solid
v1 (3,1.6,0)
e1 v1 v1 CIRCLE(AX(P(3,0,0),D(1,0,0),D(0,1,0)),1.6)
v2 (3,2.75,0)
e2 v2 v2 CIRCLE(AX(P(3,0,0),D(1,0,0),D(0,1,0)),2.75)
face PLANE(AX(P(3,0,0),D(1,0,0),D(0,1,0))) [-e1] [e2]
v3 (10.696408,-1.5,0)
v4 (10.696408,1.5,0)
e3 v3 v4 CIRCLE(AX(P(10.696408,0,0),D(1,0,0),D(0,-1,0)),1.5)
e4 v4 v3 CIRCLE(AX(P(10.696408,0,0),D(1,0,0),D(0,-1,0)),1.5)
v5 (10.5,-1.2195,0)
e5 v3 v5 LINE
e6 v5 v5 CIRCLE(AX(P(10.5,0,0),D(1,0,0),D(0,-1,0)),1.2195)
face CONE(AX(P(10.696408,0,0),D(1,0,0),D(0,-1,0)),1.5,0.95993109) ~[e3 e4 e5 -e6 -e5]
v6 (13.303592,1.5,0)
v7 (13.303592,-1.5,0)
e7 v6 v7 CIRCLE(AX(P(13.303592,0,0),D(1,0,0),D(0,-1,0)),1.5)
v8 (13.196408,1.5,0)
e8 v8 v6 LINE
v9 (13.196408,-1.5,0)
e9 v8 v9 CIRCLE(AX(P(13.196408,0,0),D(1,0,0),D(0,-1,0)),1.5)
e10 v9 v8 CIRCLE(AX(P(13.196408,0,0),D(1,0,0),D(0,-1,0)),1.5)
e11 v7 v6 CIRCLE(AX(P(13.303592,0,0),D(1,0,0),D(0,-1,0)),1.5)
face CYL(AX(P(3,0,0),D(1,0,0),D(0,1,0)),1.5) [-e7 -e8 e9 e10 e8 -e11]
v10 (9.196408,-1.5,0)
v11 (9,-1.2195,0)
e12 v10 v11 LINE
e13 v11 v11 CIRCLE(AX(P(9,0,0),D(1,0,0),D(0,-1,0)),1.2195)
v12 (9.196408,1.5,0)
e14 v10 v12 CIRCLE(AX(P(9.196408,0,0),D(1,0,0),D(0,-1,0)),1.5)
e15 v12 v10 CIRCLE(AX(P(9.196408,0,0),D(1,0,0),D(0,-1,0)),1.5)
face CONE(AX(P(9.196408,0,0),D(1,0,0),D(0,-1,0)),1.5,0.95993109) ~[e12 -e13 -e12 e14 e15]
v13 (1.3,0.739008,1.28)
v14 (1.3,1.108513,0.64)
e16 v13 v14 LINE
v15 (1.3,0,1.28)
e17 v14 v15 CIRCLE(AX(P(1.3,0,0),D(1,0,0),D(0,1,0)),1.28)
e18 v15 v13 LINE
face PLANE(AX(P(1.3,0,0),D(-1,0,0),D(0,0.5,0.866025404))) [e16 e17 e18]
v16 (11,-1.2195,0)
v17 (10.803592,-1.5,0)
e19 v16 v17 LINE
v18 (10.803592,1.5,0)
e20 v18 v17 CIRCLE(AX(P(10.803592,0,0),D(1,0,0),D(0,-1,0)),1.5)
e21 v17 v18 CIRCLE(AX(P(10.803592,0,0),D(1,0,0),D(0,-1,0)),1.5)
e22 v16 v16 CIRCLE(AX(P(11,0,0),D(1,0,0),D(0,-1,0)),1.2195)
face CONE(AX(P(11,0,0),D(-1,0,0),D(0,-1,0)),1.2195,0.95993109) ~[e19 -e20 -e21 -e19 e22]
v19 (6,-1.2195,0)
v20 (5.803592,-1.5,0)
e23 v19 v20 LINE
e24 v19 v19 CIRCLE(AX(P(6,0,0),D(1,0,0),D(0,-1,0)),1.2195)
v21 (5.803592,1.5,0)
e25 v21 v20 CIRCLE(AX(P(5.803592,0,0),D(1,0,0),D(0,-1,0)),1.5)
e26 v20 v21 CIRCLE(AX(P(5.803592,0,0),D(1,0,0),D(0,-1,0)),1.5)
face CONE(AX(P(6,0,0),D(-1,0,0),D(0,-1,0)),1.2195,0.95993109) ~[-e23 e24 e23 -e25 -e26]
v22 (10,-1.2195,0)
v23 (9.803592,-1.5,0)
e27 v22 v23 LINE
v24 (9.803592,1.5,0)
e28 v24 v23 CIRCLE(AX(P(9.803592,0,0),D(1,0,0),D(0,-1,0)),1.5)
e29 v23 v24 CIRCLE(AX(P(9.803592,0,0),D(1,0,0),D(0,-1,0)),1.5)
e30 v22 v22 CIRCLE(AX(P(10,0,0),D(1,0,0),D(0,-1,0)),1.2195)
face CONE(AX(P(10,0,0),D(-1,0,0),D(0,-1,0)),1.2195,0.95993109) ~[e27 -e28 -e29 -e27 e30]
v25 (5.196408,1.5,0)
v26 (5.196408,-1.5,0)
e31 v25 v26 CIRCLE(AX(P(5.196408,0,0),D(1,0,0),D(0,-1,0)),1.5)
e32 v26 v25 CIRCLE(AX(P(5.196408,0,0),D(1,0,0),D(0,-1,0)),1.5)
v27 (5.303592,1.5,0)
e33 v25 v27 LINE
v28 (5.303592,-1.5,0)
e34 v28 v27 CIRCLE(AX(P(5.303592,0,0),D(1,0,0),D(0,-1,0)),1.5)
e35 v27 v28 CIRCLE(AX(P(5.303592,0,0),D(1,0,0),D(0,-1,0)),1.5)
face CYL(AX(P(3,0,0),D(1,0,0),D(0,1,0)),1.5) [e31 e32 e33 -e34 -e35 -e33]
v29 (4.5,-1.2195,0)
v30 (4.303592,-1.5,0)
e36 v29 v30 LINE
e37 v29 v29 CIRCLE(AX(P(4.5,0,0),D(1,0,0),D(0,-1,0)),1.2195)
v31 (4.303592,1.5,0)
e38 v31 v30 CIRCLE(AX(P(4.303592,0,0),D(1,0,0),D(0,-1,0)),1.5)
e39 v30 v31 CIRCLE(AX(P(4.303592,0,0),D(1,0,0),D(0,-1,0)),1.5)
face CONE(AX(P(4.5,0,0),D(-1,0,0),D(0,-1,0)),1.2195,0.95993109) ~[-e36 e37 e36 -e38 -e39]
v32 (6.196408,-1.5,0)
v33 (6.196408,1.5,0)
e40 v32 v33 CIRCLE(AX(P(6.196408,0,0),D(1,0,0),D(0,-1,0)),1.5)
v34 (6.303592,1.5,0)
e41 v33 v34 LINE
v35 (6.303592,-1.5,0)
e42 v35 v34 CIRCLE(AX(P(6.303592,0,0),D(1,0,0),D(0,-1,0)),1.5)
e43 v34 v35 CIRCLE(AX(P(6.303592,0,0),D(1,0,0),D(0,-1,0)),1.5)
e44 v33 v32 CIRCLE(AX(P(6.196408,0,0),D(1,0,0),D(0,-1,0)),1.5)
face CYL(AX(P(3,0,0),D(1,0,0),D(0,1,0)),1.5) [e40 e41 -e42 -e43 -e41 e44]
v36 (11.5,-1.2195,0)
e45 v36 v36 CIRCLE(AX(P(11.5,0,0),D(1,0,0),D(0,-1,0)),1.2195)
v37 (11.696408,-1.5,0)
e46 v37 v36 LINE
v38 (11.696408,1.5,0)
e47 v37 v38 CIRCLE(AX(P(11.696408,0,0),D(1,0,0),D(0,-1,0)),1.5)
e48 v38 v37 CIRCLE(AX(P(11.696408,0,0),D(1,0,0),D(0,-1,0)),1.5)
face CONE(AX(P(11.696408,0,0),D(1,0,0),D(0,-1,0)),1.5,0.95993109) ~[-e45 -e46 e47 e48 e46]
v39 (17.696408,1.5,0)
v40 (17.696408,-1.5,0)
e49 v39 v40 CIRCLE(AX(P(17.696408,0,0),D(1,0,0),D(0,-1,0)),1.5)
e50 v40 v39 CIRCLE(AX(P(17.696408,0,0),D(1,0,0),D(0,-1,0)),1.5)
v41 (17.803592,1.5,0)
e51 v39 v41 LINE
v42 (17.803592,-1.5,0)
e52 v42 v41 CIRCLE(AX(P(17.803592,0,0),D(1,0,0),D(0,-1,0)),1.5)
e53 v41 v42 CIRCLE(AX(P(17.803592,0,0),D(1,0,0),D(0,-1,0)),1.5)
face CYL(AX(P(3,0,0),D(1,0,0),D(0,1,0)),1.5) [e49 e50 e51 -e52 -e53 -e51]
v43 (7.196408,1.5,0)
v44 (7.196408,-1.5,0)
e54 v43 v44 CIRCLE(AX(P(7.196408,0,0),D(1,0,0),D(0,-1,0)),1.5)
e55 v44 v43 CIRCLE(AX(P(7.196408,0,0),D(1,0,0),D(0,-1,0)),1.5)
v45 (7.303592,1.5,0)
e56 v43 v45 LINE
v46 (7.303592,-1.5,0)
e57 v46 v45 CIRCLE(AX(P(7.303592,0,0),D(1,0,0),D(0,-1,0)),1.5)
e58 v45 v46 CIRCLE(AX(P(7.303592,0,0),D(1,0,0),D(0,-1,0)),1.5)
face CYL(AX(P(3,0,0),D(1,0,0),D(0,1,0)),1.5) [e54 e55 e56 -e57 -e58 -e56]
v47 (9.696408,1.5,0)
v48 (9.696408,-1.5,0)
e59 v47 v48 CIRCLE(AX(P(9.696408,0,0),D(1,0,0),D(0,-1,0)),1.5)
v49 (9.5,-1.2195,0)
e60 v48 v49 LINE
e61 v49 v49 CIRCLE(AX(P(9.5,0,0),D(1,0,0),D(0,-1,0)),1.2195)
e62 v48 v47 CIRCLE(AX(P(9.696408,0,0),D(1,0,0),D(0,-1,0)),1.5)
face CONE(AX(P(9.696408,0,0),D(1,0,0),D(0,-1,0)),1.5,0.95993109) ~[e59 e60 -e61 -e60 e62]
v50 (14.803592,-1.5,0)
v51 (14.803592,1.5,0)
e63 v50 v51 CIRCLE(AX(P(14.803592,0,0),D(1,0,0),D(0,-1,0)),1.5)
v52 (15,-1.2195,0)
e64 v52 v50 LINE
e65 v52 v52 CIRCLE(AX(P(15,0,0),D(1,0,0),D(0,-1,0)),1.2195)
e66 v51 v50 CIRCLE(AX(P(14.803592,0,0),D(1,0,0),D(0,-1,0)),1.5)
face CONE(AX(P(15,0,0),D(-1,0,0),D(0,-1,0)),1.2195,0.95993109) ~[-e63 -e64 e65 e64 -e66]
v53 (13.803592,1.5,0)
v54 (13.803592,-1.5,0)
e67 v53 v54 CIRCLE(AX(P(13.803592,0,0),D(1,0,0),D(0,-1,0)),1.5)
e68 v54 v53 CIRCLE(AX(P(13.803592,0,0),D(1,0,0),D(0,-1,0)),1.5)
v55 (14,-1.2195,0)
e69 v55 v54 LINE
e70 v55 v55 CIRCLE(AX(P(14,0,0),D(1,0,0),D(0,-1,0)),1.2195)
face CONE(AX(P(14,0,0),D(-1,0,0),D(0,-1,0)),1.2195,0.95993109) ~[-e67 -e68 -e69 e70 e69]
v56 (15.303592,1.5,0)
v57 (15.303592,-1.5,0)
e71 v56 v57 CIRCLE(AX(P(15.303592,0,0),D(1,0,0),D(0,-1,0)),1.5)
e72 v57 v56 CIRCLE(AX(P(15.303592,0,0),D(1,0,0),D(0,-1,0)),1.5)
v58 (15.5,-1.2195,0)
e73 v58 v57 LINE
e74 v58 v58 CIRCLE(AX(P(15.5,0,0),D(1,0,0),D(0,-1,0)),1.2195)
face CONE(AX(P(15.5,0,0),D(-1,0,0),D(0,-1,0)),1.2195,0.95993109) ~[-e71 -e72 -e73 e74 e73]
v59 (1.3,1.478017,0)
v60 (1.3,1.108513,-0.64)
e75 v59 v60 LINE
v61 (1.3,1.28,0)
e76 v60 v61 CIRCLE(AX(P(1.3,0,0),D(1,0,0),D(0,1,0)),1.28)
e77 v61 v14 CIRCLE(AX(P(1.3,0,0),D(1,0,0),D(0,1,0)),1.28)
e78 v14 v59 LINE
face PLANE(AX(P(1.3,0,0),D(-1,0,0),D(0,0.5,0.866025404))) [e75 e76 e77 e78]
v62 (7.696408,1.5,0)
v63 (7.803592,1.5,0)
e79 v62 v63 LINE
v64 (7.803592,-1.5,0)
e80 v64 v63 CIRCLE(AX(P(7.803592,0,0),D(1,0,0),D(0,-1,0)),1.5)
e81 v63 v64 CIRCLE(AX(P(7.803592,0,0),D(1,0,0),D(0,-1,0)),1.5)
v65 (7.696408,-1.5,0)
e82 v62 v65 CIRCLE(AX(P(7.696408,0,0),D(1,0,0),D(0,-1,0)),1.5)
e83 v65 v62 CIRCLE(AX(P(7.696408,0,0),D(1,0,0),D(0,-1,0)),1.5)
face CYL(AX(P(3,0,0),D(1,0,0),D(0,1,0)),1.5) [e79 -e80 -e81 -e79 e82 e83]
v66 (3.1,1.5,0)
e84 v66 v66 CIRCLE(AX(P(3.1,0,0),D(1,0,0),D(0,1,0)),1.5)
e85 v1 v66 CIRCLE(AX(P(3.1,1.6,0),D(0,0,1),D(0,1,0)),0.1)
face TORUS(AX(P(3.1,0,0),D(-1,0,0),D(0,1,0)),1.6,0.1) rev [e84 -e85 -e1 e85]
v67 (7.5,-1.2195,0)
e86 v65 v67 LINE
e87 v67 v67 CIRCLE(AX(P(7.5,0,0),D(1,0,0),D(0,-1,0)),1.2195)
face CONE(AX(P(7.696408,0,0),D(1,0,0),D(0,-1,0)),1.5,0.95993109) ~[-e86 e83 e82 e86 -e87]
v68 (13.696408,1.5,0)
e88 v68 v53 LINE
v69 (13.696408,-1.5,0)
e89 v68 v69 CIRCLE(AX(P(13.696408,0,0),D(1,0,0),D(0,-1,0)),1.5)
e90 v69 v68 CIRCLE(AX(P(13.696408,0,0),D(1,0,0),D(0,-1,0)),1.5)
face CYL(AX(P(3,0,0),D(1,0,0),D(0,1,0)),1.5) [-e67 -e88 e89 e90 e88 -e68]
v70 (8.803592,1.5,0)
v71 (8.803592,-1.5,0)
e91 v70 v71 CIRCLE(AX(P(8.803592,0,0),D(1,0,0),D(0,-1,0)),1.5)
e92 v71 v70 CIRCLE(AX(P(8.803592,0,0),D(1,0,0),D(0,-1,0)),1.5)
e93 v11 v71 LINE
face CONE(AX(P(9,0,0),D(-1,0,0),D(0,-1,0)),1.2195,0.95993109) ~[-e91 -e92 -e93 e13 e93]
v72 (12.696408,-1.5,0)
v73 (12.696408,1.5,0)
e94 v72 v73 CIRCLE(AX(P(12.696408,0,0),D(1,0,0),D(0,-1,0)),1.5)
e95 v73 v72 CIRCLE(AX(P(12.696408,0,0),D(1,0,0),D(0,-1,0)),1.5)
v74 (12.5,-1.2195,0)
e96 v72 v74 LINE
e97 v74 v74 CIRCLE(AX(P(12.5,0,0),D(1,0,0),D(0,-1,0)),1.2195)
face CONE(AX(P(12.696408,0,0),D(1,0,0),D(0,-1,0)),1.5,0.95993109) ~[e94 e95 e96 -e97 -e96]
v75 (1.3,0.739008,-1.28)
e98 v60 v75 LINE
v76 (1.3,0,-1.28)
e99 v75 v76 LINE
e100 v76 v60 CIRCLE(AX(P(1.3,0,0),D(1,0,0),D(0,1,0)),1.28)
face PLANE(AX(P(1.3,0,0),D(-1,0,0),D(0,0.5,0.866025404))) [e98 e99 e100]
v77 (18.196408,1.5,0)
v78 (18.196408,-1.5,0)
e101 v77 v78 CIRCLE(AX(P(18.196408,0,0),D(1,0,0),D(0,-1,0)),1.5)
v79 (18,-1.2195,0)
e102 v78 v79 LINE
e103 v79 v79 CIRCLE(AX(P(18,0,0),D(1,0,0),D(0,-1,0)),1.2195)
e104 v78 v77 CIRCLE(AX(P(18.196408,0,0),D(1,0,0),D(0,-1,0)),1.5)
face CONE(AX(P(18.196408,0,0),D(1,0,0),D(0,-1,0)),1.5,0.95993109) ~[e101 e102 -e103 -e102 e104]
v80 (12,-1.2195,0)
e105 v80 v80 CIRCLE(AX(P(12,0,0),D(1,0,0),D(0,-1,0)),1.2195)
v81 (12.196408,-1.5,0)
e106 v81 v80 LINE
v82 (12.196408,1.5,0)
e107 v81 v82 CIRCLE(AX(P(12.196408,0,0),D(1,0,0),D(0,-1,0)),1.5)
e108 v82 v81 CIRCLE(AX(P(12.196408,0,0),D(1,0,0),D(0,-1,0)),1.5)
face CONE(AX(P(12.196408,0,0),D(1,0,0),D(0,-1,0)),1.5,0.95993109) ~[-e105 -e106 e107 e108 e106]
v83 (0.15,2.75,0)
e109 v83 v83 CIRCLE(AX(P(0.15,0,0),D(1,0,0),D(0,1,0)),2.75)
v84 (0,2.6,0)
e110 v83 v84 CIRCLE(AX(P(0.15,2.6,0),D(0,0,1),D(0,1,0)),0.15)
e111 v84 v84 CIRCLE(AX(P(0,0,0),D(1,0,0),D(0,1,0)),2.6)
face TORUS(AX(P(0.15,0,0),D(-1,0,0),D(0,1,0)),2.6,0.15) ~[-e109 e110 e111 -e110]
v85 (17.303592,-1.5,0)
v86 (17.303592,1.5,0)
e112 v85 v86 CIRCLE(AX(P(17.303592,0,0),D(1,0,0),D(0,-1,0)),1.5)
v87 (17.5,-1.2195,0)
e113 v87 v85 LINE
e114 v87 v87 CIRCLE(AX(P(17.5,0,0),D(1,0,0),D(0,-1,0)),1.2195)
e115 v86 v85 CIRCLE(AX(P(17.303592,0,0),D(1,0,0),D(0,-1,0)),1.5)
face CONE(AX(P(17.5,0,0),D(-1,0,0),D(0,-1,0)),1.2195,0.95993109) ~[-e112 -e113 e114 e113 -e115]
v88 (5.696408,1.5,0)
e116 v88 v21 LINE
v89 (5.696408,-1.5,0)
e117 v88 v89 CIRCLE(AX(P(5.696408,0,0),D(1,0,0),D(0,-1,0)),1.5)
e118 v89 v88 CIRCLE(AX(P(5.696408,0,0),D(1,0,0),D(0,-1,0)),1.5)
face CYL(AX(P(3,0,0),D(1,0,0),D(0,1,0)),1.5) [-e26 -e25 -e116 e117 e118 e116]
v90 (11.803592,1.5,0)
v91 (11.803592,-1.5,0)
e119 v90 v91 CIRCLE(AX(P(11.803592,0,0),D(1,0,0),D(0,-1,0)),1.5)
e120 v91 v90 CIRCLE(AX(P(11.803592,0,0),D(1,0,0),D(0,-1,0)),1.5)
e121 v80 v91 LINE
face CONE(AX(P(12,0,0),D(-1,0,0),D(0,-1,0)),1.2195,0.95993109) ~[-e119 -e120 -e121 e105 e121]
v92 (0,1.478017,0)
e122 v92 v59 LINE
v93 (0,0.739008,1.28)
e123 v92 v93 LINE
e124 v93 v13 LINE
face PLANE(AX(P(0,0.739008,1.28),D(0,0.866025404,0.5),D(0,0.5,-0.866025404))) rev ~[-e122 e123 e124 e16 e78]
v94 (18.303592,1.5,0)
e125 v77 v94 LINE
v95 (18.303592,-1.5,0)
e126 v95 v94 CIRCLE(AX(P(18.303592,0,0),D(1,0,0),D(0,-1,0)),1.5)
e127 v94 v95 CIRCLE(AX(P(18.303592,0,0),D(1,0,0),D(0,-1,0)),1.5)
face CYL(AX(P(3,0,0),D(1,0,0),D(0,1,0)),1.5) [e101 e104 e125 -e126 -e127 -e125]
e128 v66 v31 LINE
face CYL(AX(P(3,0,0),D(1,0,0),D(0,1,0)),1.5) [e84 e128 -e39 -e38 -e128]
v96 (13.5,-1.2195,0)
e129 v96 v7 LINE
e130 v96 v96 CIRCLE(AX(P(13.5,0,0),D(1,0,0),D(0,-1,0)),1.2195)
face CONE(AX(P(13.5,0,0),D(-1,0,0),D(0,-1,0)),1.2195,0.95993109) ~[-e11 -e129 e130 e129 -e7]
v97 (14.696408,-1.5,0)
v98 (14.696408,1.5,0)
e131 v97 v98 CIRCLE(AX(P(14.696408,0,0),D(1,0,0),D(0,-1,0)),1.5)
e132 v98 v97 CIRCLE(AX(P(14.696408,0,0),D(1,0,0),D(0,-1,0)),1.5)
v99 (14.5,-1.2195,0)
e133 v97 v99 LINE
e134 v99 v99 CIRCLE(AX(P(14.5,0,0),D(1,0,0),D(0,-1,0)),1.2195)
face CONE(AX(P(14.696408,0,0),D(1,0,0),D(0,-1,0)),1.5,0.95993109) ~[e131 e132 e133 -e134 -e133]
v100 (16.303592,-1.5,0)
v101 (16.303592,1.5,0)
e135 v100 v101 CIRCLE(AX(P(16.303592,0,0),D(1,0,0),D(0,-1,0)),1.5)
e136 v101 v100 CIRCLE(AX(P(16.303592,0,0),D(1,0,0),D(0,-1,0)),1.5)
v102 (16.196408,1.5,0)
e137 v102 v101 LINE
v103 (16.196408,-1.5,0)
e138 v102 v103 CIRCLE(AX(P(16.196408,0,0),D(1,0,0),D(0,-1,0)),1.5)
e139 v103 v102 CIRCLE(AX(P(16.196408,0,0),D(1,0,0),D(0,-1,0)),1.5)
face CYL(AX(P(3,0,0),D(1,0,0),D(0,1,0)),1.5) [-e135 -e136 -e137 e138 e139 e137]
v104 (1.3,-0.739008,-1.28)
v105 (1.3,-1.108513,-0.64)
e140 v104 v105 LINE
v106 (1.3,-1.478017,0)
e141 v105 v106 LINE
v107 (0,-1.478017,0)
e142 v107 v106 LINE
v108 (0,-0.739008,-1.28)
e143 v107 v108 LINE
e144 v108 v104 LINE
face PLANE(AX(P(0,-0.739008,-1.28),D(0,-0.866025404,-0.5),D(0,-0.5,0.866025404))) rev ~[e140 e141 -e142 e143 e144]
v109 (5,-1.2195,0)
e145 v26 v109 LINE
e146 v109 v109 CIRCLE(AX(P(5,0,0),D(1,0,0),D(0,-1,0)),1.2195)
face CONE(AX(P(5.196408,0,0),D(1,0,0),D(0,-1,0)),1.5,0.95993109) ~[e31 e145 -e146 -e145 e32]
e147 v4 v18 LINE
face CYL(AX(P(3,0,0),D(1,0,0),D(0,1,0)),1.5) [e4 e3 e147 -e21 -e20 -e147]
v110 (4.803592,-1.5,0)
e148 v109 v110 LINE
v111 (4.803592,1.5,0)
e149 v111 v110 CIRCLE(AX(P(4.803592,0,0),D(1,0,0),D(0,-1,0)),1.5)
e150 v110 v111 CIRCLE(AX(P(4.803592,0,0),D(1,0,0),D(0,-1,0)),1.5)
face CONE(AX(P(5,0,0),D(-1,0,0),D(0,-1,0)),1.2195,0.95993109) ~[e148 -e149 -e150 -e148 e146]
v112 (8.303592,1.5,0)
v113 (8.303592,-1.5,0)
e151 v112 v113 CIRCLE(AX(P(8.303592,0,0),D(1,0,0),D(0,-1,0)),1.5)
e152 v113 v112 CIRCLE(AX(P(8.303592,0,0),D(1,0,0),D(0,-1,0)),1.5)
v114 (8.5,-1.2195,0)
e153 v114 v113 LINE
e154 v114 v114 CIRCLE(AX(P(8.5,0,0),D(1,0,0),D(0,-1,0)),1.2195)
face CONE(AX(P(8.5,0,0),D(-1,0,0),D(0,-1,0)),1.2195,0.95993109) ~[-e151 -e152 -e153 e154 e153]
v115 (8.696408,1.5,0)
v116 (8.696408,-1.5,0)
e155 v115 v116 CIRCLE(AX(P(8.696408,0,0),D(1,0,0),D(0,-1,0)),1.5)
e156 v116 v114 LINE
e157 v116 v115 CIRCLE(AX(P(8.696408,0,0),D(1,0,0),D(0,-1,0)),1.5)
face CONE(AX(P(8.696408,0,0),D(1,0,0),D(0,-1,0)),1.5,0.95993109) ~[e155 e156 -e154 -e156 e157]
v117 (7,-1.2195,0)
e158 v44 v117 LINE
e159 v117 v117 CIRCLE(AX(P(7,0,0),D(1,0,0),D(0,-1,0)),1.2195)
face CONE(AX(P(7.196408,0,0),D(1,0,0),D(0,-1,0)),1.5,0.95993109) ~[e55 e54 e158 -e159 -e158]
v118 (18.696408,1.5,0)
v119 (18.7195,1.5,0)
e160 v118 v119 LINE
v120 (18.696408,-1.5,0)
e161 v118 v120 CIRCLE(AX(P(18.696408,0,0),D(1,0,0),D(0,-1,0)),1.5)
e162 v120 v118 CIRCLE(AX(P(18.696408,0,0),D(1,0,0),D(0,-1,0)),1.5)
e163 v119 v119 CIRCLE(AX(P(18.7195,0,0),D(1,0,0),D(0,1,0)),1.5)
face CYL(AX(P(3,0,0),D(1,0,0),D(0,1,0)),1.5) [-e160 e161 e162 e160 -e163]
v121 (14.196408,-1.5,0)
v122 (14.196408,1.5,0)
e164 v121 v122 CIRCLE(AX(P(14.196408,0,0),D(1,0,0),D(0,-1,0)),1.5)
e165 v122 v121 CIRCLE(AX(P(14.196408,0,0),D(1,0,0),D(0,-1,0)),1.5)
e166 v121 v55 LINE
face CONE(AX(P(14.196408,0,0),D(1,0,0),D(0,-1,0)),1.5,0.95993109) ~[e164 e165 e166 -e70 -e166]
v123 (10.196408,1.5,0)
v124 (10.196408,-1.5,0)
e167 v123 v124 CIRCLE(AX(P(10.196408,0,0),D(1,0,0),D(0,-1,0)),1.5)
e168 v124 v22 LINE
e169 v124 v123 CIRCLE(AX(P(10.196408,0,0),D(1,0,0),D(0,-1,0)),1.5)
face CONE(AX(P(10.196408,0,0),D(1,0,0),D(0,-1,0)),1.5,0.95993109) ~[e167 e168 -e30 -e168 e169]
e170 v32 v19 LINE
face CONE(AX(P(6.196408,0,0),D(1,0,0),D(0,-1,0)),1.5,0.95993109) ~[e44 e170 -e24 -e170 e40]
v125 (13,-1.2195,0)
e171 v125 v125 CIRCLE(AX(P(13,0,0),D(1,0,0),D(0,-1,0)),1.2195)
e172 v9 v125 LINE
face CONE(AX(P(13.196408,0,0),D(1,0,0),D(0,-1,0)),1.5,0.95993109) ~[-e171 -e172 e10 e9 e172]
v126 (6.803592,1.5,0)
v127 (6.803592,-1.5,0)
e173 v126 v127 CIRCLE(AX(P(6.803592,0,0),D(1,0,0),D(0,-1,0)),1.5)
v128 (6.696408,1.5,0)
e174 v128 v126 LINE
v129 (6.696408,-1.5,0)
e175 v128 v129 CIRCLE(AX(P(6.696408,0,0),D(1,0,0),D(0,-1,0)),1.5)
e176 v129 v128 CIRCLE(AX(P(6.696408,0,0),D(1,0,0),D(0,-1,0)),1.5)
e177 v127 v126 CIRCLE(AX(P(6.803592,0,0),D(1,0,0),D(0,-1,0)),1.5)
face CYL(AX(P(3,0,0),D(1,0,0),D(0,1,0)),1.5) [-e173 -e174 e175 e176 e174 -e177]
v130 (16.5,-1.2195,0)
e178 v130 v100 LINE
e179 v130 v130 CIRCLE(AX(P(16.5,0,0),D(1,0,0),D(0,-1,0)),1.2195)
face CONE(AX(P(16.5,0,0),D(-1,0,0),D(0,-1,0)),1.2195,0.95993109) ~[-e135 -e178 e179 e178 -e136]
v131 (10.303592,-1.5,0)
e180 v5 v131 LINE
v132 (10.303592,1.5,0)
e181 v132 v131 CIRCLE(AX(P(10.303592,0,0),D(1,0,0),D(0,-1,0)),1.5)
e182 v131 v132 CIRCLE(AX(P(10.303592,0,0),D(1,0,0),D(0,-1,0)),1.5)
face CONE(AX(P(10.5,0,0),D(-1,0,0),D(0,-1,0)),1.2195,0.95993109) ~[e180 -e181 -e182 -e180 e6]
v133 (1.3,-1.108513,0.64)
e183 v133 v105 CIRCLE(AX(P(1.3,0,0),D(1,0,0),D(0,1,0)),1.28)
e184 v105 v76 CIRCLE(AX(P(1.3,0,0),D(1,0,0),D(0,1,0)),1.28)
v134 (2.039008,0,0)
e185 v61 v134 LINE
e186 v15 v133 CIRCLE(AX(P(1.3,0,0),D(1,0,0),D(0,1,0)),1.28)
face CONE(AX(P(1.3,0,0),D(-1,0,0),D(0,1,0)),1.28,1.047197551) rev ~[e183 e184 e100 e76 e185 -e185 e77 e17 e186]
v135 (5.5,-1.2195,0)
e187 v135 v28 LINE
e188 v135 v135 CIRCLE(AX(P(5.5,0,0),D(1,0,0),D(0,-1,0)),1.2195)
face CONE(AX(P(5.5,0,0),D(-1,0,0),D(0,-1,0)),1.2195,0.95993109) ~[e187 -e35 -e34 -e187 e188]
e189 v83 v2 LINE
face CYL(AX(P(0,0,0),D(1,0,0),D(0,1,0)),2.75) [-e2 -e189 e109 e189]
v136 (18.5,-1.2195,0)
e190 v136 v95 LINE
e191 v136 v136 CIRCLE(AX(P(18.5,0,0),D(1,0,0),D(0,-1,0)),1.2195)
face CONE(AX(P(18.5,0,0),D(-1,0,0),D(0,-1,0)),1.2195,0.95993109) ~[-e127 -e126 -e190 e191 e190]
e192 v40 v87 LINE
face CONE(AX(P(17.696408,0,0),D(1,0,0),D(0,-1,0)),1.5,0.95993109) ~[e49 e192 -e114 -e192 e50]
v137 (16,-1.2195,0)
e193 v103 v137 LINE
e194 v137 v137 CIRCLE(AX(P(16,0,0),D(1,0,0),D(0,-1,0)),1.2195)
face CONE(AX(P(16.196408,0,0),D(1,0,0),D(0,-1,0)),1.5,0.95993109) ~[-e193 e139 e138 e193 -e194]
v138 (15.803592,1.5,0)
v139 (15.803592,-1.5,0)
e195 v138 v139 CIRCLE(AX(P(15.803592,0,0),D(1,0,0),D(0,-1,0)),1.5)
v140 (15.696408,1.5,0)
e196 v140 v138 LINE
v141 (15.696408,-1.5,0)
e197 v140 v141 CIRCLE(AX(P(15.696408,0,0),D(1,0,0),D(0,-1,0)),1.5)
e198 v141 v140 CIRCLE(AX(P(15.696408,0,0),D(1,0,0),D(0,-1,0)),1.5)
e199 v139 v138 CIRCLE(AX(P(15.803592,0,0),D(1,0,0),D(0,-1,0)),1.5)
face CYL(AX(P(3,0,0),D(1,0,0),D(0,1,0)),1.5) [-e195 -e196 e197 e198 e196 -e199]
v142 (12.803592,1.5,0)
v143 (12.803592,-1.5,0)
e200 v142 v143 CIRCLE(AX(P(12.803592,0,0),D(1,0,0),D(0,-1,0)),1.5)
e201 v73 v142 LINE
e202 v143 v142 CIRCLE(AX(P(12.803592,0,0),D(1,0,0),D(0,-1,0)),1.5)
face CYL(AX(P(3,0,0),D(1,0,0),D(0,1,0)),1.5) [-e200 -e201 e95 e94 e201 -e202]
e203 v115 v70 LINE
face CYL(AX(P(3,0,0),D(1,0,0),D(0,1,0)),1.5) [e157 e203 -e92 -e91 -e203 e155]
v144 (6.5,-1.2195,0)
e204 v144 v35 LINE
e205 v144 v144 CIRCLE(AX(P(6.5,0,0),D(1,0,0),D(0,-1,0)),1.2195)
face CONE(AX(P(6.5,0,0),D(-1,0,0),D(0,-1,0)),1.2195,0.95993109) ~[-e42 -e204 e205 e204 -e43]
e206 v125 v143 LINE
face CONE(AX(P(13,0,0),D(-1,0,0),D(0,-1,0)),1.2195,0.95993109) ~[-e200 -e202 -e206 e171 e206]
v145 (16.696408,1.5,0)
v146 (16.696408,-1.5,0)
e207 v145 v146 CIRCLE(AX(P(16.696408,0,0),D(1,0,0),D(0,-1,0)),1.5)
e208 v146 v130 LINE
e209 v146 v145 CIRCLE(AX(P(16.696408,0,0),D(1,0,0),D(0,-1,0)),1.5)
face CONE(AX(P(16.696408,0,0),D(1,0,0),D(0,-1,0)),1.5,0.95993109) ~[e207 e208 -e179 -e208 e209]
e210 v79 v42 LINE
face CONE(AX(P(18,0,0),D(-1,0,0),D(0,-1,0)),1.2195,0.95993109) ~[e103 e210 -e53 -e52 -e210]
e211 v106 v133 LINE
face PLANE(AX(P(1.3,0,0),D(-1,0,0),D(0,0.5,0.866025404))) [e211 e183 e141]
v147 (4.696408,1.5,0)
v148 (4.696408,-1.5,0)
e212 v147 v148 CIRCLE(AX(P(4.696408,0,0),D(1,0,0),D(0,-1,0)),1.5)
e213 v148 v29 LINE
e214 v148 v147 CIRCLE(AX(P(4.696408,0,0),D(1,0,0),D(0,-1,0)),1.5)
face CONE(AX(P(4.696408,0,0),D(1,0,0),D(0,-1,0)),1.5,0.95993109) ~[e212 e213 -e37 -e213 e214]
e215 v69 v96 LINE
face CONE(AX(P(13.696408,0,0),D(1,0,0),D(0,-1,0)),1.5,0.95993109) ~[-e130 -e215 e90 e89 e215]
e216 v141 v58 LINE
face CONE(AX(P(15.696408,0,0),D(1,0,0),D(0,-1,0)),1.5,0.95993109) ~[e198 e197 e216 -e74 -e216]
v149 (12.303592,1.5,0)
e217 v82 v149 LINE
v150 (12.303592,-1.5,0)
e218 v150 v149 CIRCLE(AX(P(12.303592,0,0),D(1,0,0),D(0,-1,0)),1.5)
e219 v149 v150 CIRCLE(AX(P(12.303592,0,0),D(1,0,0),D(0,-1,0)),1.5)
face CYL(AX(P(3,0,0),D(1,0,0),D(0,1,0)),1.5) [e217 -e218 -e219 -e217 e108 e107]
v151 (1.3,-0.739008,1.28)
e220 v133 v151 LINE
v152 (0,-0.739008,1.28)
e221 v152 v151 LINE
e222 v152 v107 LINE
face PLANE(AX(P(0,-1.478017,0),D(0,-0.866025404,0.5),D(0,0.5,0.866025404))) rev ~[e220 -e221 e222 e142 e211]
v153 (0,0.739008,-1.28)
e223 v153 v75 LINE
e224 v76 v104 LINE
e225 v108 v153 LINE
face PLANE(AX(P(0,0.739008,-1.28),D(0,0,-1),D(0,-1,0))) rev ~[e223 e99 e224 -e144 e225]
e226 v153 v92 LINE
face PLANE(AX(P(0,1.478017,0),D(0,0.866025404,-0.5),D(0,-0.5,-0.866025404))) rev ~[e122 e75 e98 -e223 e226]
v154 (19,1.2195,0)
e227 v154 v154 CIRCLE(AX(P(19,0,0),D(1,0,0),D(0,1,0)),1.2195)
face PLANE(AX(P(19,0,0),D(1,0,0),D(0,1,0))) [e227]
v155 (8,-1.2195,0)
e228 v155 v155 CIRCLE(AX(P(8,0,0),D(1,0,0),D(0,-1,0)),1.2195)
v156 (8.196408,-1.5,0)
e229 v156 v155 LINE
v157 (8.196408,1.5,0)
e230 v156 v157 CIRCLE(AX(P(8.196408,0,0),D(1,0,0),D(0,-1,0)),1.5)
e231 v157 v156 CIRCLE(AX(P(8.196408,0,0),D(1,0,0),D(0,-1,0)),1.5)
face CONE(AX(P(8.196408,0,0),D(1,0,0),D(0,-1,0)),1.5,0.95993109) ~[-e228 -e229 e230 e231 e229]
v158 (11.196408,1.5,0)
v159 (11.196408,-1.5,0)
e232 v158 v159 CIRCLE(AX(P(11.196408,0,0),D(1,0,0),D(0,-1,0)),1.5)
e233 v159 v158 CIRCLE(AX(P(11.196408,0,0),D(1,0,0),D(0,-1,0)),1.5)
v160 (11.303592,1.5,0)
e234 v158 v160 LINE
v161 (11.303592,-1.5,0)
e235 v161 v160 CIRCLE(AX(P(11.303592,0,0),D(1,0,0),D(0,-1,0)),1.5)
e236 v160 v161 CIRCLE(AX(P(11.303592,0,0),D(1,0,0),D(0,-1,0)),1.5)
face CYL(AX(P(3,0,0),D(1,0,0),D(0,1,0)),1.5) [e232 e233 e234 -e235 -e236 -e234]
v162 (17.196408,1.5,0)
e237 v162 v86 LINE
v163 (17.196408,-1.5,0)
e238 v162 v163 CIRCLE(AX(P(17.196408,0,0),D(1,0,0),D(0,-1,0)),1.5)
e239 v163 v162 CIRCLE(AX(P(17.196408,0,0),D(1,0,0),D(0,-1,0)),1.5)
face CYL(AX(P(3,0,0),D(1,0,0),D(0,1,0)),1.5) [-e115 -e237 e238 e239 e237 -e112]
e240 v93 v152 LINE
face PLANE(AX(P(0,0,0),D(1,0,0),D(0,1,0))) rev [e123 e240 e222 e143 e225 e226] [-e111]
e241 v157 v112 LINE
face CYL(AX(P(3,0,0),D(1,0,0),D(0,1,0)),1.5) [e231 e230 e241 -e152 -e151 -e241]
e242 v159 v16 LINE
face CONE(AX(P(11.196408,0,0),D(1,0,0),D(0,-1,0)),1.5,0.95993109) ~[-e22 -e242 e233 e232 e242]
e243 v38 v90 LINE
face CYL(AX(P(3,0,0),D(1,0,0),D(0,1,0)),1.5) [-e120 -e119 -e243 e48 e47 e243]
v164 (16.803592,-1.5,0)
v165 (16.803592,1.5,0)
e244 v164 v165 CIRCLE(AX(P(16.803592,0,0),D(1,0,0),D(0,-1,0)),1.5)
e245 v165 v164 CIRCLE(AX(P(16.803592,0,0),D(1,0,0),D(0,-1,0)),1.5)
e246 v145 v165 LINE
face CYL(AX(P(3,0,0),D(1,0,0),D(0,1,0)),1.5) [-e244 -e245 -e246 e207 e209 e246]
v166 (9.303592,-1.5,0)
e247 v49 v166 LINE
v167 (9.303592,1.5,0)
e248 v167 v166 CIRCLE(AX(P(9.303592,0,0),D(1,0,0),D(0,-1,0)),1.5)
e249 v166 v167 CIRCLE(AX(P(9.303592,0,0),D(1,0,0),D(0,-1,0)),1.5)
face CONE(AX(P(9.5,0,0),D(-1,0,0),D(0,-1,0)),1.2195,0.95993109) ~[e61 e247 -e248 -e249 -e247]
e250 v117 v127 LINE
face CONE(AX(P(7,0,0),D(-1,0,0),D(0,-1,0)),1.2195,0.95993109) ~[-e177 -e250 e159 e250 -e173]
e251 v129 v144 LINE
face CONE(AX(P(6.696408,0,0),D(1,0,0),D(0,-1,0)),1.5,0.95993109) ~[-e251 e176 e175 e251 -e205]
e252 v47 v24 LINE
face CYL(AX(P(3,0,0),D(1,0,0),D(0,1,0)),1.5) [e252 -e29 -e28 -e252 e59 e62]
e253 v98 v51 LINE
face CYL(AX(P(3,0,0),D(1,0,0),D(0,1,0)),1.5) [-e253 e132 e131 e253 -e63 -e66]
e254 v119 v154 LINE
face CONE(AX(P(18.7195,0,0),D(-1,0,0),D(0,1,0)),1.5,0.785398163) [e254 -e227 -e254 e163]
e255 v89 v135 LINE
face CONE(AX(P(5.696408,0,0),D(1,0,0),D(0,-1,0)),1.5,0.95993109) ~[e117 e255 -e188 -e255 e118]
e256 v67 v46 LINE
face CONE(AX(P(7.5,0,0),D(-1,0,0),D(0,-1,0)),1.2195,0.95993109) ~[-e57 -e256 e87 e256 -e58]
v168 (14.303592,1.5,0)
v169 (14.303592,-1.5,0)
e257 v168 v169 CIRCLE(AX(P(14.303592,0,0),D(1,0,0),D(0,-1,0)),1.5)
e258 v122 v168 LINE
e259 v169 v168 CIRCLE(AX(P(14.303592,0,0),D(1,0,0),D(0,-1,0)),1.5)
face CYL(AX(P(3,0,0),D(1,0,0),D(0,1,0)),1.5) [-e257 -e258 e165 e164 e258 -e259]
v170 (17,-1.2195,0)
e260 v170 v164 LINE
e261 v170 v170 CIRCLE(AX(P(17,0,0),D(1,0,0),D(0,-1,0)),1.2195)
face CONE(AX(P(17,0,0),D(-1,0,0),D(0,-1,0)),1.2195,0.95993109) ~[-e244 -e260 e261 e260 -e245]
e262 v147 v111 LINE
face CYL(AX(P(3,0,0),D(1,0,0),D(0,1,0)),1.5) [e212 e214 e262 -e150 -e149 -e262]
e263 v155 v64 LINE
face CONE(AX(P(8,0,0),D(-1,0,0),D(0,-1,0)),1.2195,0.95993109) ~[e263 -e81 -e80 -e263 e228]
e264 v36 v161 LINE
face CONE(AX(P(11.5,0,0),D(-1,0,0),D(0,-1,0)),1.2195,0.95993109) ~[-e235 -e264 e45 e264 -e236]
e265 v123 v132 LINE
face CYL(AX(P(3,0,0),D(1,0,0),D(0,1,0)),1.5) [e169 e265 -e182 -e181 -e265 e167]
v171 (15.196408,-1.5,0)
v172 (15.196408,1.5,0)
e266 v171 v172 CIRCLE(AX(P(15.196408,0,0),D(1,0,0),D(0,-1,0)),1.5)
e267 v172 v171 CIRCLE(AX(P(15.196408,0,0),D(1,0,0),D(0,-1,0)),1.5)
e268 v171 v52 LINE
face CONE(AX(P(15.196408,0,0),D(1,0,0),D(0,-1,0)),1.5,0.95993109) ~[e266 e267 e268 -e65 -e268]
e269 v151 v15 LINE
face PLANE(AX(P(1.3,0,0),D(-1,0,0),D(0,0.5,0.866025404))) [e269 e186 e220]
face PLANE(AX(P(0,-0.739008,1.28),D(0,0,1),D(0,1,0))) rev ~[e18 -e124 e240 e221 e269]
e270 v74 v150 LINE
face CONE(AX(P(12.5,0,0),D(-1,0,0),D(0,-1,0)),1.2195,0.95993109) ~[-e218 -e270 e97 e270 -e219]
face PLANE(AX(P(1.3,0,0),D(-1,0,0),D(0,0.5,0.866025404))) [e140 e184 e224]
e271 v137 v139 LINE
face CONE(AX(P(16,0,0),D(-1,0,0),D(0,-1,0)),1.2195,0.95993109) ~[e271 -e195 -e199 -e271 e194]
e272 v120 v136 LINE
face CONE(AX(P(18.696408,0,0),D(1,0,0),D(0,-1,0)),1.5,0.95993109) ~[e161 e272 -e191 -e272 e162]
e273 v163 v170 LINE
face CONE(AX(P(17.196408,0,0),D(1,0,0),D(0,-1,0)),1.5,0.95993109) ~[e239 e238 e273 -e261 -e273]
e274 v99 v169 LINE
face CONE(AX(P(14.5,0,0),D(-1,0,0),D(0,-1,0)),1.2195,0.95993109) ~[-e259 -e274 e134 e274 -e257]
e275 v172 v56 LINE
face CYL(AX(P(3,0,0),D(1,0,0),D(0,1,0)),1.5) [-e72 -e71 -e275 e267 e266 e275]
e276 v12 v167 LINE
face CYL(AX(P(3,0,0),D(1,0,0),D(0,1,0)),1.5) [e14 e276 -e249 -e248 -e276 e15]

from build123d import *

# Parameters (mm, degrees)
FILLET1_R       = 0.1
FILLET2_R       = 0.15
HEX_2_DEPTH     = 1.3
THDSCHPAT_COUNT = 29
THDSCHPAT_PITCH = 0.5


with BuildPart() as part:
    # BodySke → Base-Revolve (revolve)
    with BuildSketch(Plane.XY):
        Polygon((0, 0), (0, 2.75), (3, 2.75), (3, 1.5), (18.7195, 1.5), (19, 1.2195), (19, 0), align=None)
    revolve(axis=Axis((-31.75, 0, 0), (1, 0, 0)))

    # Fillet1
    fillet1_edges = [part.edges().sort_by_distance(p)[0] for p in [
        (3, -1.5, 0),
    ]]
    fillet(fillet1_edges, radius=FILLET1_R)

    # Fillet2
    fillet2_edges = [part.edges().sort_by_distance(p)[0] for p in [
        (0, -2.75, 0),
    ]]
    fillet(fillet2_edges, radius=FILLET2_R)

    # Sketch2 → Hex-PreBroach (revolve, cut)
    with BuildSketch(Plane.XY):
        Polygon((0, 1.28), (1.3, 1.28), (2.039008345, 0), (0, 0), align=None)
    revolve(axis=Axis((0, 0, 0), (1, 0, 0)), mode=Mode.SUBTRACT)

    # Sketch3 → Hex 2 (cut)
    with BuildSketch(Plane(origin=(0, 0, 0), x_dir=(0, 0.5, 0.866025404), z_dir=(-1, 0, 0))):
        Polygon((0.739008345, 1.28), (-0.739008345, 1.28), (-1.478016689, 0), (-0.739008345, -1.28), (0.739008345, -1.28), (1.478016689, 0), align=None)
    extrude(amount=-HEX_2_DEPTH, mode=Mode.SUBTRACT)

    # ThdSchSke → ThreadSchematic (revolve, cut)
    with BuildSketch(Plane.XY):
        Polygon((4.5, -1.2195), (4.303591786, -1.5), (4.303591786, -1.875), (4.696408214, -1.875), (4.696408214, -1.5), align=None)
    threadschematic = revolve(axis=Axis((-3.175, 0, 0), (1, 0, 0)), mode=Mode.SUBTRACT)

    # ThdSchPat: ThreadSchematic ×29
    with Locations(*[(i * THDSCHPAT_PITCH, 0, 0) for i in range(1, THDSCHPAT_COUNT)]):
        add(threadschematic, mode=Mode.SUBTRACT)


solid = part.part
